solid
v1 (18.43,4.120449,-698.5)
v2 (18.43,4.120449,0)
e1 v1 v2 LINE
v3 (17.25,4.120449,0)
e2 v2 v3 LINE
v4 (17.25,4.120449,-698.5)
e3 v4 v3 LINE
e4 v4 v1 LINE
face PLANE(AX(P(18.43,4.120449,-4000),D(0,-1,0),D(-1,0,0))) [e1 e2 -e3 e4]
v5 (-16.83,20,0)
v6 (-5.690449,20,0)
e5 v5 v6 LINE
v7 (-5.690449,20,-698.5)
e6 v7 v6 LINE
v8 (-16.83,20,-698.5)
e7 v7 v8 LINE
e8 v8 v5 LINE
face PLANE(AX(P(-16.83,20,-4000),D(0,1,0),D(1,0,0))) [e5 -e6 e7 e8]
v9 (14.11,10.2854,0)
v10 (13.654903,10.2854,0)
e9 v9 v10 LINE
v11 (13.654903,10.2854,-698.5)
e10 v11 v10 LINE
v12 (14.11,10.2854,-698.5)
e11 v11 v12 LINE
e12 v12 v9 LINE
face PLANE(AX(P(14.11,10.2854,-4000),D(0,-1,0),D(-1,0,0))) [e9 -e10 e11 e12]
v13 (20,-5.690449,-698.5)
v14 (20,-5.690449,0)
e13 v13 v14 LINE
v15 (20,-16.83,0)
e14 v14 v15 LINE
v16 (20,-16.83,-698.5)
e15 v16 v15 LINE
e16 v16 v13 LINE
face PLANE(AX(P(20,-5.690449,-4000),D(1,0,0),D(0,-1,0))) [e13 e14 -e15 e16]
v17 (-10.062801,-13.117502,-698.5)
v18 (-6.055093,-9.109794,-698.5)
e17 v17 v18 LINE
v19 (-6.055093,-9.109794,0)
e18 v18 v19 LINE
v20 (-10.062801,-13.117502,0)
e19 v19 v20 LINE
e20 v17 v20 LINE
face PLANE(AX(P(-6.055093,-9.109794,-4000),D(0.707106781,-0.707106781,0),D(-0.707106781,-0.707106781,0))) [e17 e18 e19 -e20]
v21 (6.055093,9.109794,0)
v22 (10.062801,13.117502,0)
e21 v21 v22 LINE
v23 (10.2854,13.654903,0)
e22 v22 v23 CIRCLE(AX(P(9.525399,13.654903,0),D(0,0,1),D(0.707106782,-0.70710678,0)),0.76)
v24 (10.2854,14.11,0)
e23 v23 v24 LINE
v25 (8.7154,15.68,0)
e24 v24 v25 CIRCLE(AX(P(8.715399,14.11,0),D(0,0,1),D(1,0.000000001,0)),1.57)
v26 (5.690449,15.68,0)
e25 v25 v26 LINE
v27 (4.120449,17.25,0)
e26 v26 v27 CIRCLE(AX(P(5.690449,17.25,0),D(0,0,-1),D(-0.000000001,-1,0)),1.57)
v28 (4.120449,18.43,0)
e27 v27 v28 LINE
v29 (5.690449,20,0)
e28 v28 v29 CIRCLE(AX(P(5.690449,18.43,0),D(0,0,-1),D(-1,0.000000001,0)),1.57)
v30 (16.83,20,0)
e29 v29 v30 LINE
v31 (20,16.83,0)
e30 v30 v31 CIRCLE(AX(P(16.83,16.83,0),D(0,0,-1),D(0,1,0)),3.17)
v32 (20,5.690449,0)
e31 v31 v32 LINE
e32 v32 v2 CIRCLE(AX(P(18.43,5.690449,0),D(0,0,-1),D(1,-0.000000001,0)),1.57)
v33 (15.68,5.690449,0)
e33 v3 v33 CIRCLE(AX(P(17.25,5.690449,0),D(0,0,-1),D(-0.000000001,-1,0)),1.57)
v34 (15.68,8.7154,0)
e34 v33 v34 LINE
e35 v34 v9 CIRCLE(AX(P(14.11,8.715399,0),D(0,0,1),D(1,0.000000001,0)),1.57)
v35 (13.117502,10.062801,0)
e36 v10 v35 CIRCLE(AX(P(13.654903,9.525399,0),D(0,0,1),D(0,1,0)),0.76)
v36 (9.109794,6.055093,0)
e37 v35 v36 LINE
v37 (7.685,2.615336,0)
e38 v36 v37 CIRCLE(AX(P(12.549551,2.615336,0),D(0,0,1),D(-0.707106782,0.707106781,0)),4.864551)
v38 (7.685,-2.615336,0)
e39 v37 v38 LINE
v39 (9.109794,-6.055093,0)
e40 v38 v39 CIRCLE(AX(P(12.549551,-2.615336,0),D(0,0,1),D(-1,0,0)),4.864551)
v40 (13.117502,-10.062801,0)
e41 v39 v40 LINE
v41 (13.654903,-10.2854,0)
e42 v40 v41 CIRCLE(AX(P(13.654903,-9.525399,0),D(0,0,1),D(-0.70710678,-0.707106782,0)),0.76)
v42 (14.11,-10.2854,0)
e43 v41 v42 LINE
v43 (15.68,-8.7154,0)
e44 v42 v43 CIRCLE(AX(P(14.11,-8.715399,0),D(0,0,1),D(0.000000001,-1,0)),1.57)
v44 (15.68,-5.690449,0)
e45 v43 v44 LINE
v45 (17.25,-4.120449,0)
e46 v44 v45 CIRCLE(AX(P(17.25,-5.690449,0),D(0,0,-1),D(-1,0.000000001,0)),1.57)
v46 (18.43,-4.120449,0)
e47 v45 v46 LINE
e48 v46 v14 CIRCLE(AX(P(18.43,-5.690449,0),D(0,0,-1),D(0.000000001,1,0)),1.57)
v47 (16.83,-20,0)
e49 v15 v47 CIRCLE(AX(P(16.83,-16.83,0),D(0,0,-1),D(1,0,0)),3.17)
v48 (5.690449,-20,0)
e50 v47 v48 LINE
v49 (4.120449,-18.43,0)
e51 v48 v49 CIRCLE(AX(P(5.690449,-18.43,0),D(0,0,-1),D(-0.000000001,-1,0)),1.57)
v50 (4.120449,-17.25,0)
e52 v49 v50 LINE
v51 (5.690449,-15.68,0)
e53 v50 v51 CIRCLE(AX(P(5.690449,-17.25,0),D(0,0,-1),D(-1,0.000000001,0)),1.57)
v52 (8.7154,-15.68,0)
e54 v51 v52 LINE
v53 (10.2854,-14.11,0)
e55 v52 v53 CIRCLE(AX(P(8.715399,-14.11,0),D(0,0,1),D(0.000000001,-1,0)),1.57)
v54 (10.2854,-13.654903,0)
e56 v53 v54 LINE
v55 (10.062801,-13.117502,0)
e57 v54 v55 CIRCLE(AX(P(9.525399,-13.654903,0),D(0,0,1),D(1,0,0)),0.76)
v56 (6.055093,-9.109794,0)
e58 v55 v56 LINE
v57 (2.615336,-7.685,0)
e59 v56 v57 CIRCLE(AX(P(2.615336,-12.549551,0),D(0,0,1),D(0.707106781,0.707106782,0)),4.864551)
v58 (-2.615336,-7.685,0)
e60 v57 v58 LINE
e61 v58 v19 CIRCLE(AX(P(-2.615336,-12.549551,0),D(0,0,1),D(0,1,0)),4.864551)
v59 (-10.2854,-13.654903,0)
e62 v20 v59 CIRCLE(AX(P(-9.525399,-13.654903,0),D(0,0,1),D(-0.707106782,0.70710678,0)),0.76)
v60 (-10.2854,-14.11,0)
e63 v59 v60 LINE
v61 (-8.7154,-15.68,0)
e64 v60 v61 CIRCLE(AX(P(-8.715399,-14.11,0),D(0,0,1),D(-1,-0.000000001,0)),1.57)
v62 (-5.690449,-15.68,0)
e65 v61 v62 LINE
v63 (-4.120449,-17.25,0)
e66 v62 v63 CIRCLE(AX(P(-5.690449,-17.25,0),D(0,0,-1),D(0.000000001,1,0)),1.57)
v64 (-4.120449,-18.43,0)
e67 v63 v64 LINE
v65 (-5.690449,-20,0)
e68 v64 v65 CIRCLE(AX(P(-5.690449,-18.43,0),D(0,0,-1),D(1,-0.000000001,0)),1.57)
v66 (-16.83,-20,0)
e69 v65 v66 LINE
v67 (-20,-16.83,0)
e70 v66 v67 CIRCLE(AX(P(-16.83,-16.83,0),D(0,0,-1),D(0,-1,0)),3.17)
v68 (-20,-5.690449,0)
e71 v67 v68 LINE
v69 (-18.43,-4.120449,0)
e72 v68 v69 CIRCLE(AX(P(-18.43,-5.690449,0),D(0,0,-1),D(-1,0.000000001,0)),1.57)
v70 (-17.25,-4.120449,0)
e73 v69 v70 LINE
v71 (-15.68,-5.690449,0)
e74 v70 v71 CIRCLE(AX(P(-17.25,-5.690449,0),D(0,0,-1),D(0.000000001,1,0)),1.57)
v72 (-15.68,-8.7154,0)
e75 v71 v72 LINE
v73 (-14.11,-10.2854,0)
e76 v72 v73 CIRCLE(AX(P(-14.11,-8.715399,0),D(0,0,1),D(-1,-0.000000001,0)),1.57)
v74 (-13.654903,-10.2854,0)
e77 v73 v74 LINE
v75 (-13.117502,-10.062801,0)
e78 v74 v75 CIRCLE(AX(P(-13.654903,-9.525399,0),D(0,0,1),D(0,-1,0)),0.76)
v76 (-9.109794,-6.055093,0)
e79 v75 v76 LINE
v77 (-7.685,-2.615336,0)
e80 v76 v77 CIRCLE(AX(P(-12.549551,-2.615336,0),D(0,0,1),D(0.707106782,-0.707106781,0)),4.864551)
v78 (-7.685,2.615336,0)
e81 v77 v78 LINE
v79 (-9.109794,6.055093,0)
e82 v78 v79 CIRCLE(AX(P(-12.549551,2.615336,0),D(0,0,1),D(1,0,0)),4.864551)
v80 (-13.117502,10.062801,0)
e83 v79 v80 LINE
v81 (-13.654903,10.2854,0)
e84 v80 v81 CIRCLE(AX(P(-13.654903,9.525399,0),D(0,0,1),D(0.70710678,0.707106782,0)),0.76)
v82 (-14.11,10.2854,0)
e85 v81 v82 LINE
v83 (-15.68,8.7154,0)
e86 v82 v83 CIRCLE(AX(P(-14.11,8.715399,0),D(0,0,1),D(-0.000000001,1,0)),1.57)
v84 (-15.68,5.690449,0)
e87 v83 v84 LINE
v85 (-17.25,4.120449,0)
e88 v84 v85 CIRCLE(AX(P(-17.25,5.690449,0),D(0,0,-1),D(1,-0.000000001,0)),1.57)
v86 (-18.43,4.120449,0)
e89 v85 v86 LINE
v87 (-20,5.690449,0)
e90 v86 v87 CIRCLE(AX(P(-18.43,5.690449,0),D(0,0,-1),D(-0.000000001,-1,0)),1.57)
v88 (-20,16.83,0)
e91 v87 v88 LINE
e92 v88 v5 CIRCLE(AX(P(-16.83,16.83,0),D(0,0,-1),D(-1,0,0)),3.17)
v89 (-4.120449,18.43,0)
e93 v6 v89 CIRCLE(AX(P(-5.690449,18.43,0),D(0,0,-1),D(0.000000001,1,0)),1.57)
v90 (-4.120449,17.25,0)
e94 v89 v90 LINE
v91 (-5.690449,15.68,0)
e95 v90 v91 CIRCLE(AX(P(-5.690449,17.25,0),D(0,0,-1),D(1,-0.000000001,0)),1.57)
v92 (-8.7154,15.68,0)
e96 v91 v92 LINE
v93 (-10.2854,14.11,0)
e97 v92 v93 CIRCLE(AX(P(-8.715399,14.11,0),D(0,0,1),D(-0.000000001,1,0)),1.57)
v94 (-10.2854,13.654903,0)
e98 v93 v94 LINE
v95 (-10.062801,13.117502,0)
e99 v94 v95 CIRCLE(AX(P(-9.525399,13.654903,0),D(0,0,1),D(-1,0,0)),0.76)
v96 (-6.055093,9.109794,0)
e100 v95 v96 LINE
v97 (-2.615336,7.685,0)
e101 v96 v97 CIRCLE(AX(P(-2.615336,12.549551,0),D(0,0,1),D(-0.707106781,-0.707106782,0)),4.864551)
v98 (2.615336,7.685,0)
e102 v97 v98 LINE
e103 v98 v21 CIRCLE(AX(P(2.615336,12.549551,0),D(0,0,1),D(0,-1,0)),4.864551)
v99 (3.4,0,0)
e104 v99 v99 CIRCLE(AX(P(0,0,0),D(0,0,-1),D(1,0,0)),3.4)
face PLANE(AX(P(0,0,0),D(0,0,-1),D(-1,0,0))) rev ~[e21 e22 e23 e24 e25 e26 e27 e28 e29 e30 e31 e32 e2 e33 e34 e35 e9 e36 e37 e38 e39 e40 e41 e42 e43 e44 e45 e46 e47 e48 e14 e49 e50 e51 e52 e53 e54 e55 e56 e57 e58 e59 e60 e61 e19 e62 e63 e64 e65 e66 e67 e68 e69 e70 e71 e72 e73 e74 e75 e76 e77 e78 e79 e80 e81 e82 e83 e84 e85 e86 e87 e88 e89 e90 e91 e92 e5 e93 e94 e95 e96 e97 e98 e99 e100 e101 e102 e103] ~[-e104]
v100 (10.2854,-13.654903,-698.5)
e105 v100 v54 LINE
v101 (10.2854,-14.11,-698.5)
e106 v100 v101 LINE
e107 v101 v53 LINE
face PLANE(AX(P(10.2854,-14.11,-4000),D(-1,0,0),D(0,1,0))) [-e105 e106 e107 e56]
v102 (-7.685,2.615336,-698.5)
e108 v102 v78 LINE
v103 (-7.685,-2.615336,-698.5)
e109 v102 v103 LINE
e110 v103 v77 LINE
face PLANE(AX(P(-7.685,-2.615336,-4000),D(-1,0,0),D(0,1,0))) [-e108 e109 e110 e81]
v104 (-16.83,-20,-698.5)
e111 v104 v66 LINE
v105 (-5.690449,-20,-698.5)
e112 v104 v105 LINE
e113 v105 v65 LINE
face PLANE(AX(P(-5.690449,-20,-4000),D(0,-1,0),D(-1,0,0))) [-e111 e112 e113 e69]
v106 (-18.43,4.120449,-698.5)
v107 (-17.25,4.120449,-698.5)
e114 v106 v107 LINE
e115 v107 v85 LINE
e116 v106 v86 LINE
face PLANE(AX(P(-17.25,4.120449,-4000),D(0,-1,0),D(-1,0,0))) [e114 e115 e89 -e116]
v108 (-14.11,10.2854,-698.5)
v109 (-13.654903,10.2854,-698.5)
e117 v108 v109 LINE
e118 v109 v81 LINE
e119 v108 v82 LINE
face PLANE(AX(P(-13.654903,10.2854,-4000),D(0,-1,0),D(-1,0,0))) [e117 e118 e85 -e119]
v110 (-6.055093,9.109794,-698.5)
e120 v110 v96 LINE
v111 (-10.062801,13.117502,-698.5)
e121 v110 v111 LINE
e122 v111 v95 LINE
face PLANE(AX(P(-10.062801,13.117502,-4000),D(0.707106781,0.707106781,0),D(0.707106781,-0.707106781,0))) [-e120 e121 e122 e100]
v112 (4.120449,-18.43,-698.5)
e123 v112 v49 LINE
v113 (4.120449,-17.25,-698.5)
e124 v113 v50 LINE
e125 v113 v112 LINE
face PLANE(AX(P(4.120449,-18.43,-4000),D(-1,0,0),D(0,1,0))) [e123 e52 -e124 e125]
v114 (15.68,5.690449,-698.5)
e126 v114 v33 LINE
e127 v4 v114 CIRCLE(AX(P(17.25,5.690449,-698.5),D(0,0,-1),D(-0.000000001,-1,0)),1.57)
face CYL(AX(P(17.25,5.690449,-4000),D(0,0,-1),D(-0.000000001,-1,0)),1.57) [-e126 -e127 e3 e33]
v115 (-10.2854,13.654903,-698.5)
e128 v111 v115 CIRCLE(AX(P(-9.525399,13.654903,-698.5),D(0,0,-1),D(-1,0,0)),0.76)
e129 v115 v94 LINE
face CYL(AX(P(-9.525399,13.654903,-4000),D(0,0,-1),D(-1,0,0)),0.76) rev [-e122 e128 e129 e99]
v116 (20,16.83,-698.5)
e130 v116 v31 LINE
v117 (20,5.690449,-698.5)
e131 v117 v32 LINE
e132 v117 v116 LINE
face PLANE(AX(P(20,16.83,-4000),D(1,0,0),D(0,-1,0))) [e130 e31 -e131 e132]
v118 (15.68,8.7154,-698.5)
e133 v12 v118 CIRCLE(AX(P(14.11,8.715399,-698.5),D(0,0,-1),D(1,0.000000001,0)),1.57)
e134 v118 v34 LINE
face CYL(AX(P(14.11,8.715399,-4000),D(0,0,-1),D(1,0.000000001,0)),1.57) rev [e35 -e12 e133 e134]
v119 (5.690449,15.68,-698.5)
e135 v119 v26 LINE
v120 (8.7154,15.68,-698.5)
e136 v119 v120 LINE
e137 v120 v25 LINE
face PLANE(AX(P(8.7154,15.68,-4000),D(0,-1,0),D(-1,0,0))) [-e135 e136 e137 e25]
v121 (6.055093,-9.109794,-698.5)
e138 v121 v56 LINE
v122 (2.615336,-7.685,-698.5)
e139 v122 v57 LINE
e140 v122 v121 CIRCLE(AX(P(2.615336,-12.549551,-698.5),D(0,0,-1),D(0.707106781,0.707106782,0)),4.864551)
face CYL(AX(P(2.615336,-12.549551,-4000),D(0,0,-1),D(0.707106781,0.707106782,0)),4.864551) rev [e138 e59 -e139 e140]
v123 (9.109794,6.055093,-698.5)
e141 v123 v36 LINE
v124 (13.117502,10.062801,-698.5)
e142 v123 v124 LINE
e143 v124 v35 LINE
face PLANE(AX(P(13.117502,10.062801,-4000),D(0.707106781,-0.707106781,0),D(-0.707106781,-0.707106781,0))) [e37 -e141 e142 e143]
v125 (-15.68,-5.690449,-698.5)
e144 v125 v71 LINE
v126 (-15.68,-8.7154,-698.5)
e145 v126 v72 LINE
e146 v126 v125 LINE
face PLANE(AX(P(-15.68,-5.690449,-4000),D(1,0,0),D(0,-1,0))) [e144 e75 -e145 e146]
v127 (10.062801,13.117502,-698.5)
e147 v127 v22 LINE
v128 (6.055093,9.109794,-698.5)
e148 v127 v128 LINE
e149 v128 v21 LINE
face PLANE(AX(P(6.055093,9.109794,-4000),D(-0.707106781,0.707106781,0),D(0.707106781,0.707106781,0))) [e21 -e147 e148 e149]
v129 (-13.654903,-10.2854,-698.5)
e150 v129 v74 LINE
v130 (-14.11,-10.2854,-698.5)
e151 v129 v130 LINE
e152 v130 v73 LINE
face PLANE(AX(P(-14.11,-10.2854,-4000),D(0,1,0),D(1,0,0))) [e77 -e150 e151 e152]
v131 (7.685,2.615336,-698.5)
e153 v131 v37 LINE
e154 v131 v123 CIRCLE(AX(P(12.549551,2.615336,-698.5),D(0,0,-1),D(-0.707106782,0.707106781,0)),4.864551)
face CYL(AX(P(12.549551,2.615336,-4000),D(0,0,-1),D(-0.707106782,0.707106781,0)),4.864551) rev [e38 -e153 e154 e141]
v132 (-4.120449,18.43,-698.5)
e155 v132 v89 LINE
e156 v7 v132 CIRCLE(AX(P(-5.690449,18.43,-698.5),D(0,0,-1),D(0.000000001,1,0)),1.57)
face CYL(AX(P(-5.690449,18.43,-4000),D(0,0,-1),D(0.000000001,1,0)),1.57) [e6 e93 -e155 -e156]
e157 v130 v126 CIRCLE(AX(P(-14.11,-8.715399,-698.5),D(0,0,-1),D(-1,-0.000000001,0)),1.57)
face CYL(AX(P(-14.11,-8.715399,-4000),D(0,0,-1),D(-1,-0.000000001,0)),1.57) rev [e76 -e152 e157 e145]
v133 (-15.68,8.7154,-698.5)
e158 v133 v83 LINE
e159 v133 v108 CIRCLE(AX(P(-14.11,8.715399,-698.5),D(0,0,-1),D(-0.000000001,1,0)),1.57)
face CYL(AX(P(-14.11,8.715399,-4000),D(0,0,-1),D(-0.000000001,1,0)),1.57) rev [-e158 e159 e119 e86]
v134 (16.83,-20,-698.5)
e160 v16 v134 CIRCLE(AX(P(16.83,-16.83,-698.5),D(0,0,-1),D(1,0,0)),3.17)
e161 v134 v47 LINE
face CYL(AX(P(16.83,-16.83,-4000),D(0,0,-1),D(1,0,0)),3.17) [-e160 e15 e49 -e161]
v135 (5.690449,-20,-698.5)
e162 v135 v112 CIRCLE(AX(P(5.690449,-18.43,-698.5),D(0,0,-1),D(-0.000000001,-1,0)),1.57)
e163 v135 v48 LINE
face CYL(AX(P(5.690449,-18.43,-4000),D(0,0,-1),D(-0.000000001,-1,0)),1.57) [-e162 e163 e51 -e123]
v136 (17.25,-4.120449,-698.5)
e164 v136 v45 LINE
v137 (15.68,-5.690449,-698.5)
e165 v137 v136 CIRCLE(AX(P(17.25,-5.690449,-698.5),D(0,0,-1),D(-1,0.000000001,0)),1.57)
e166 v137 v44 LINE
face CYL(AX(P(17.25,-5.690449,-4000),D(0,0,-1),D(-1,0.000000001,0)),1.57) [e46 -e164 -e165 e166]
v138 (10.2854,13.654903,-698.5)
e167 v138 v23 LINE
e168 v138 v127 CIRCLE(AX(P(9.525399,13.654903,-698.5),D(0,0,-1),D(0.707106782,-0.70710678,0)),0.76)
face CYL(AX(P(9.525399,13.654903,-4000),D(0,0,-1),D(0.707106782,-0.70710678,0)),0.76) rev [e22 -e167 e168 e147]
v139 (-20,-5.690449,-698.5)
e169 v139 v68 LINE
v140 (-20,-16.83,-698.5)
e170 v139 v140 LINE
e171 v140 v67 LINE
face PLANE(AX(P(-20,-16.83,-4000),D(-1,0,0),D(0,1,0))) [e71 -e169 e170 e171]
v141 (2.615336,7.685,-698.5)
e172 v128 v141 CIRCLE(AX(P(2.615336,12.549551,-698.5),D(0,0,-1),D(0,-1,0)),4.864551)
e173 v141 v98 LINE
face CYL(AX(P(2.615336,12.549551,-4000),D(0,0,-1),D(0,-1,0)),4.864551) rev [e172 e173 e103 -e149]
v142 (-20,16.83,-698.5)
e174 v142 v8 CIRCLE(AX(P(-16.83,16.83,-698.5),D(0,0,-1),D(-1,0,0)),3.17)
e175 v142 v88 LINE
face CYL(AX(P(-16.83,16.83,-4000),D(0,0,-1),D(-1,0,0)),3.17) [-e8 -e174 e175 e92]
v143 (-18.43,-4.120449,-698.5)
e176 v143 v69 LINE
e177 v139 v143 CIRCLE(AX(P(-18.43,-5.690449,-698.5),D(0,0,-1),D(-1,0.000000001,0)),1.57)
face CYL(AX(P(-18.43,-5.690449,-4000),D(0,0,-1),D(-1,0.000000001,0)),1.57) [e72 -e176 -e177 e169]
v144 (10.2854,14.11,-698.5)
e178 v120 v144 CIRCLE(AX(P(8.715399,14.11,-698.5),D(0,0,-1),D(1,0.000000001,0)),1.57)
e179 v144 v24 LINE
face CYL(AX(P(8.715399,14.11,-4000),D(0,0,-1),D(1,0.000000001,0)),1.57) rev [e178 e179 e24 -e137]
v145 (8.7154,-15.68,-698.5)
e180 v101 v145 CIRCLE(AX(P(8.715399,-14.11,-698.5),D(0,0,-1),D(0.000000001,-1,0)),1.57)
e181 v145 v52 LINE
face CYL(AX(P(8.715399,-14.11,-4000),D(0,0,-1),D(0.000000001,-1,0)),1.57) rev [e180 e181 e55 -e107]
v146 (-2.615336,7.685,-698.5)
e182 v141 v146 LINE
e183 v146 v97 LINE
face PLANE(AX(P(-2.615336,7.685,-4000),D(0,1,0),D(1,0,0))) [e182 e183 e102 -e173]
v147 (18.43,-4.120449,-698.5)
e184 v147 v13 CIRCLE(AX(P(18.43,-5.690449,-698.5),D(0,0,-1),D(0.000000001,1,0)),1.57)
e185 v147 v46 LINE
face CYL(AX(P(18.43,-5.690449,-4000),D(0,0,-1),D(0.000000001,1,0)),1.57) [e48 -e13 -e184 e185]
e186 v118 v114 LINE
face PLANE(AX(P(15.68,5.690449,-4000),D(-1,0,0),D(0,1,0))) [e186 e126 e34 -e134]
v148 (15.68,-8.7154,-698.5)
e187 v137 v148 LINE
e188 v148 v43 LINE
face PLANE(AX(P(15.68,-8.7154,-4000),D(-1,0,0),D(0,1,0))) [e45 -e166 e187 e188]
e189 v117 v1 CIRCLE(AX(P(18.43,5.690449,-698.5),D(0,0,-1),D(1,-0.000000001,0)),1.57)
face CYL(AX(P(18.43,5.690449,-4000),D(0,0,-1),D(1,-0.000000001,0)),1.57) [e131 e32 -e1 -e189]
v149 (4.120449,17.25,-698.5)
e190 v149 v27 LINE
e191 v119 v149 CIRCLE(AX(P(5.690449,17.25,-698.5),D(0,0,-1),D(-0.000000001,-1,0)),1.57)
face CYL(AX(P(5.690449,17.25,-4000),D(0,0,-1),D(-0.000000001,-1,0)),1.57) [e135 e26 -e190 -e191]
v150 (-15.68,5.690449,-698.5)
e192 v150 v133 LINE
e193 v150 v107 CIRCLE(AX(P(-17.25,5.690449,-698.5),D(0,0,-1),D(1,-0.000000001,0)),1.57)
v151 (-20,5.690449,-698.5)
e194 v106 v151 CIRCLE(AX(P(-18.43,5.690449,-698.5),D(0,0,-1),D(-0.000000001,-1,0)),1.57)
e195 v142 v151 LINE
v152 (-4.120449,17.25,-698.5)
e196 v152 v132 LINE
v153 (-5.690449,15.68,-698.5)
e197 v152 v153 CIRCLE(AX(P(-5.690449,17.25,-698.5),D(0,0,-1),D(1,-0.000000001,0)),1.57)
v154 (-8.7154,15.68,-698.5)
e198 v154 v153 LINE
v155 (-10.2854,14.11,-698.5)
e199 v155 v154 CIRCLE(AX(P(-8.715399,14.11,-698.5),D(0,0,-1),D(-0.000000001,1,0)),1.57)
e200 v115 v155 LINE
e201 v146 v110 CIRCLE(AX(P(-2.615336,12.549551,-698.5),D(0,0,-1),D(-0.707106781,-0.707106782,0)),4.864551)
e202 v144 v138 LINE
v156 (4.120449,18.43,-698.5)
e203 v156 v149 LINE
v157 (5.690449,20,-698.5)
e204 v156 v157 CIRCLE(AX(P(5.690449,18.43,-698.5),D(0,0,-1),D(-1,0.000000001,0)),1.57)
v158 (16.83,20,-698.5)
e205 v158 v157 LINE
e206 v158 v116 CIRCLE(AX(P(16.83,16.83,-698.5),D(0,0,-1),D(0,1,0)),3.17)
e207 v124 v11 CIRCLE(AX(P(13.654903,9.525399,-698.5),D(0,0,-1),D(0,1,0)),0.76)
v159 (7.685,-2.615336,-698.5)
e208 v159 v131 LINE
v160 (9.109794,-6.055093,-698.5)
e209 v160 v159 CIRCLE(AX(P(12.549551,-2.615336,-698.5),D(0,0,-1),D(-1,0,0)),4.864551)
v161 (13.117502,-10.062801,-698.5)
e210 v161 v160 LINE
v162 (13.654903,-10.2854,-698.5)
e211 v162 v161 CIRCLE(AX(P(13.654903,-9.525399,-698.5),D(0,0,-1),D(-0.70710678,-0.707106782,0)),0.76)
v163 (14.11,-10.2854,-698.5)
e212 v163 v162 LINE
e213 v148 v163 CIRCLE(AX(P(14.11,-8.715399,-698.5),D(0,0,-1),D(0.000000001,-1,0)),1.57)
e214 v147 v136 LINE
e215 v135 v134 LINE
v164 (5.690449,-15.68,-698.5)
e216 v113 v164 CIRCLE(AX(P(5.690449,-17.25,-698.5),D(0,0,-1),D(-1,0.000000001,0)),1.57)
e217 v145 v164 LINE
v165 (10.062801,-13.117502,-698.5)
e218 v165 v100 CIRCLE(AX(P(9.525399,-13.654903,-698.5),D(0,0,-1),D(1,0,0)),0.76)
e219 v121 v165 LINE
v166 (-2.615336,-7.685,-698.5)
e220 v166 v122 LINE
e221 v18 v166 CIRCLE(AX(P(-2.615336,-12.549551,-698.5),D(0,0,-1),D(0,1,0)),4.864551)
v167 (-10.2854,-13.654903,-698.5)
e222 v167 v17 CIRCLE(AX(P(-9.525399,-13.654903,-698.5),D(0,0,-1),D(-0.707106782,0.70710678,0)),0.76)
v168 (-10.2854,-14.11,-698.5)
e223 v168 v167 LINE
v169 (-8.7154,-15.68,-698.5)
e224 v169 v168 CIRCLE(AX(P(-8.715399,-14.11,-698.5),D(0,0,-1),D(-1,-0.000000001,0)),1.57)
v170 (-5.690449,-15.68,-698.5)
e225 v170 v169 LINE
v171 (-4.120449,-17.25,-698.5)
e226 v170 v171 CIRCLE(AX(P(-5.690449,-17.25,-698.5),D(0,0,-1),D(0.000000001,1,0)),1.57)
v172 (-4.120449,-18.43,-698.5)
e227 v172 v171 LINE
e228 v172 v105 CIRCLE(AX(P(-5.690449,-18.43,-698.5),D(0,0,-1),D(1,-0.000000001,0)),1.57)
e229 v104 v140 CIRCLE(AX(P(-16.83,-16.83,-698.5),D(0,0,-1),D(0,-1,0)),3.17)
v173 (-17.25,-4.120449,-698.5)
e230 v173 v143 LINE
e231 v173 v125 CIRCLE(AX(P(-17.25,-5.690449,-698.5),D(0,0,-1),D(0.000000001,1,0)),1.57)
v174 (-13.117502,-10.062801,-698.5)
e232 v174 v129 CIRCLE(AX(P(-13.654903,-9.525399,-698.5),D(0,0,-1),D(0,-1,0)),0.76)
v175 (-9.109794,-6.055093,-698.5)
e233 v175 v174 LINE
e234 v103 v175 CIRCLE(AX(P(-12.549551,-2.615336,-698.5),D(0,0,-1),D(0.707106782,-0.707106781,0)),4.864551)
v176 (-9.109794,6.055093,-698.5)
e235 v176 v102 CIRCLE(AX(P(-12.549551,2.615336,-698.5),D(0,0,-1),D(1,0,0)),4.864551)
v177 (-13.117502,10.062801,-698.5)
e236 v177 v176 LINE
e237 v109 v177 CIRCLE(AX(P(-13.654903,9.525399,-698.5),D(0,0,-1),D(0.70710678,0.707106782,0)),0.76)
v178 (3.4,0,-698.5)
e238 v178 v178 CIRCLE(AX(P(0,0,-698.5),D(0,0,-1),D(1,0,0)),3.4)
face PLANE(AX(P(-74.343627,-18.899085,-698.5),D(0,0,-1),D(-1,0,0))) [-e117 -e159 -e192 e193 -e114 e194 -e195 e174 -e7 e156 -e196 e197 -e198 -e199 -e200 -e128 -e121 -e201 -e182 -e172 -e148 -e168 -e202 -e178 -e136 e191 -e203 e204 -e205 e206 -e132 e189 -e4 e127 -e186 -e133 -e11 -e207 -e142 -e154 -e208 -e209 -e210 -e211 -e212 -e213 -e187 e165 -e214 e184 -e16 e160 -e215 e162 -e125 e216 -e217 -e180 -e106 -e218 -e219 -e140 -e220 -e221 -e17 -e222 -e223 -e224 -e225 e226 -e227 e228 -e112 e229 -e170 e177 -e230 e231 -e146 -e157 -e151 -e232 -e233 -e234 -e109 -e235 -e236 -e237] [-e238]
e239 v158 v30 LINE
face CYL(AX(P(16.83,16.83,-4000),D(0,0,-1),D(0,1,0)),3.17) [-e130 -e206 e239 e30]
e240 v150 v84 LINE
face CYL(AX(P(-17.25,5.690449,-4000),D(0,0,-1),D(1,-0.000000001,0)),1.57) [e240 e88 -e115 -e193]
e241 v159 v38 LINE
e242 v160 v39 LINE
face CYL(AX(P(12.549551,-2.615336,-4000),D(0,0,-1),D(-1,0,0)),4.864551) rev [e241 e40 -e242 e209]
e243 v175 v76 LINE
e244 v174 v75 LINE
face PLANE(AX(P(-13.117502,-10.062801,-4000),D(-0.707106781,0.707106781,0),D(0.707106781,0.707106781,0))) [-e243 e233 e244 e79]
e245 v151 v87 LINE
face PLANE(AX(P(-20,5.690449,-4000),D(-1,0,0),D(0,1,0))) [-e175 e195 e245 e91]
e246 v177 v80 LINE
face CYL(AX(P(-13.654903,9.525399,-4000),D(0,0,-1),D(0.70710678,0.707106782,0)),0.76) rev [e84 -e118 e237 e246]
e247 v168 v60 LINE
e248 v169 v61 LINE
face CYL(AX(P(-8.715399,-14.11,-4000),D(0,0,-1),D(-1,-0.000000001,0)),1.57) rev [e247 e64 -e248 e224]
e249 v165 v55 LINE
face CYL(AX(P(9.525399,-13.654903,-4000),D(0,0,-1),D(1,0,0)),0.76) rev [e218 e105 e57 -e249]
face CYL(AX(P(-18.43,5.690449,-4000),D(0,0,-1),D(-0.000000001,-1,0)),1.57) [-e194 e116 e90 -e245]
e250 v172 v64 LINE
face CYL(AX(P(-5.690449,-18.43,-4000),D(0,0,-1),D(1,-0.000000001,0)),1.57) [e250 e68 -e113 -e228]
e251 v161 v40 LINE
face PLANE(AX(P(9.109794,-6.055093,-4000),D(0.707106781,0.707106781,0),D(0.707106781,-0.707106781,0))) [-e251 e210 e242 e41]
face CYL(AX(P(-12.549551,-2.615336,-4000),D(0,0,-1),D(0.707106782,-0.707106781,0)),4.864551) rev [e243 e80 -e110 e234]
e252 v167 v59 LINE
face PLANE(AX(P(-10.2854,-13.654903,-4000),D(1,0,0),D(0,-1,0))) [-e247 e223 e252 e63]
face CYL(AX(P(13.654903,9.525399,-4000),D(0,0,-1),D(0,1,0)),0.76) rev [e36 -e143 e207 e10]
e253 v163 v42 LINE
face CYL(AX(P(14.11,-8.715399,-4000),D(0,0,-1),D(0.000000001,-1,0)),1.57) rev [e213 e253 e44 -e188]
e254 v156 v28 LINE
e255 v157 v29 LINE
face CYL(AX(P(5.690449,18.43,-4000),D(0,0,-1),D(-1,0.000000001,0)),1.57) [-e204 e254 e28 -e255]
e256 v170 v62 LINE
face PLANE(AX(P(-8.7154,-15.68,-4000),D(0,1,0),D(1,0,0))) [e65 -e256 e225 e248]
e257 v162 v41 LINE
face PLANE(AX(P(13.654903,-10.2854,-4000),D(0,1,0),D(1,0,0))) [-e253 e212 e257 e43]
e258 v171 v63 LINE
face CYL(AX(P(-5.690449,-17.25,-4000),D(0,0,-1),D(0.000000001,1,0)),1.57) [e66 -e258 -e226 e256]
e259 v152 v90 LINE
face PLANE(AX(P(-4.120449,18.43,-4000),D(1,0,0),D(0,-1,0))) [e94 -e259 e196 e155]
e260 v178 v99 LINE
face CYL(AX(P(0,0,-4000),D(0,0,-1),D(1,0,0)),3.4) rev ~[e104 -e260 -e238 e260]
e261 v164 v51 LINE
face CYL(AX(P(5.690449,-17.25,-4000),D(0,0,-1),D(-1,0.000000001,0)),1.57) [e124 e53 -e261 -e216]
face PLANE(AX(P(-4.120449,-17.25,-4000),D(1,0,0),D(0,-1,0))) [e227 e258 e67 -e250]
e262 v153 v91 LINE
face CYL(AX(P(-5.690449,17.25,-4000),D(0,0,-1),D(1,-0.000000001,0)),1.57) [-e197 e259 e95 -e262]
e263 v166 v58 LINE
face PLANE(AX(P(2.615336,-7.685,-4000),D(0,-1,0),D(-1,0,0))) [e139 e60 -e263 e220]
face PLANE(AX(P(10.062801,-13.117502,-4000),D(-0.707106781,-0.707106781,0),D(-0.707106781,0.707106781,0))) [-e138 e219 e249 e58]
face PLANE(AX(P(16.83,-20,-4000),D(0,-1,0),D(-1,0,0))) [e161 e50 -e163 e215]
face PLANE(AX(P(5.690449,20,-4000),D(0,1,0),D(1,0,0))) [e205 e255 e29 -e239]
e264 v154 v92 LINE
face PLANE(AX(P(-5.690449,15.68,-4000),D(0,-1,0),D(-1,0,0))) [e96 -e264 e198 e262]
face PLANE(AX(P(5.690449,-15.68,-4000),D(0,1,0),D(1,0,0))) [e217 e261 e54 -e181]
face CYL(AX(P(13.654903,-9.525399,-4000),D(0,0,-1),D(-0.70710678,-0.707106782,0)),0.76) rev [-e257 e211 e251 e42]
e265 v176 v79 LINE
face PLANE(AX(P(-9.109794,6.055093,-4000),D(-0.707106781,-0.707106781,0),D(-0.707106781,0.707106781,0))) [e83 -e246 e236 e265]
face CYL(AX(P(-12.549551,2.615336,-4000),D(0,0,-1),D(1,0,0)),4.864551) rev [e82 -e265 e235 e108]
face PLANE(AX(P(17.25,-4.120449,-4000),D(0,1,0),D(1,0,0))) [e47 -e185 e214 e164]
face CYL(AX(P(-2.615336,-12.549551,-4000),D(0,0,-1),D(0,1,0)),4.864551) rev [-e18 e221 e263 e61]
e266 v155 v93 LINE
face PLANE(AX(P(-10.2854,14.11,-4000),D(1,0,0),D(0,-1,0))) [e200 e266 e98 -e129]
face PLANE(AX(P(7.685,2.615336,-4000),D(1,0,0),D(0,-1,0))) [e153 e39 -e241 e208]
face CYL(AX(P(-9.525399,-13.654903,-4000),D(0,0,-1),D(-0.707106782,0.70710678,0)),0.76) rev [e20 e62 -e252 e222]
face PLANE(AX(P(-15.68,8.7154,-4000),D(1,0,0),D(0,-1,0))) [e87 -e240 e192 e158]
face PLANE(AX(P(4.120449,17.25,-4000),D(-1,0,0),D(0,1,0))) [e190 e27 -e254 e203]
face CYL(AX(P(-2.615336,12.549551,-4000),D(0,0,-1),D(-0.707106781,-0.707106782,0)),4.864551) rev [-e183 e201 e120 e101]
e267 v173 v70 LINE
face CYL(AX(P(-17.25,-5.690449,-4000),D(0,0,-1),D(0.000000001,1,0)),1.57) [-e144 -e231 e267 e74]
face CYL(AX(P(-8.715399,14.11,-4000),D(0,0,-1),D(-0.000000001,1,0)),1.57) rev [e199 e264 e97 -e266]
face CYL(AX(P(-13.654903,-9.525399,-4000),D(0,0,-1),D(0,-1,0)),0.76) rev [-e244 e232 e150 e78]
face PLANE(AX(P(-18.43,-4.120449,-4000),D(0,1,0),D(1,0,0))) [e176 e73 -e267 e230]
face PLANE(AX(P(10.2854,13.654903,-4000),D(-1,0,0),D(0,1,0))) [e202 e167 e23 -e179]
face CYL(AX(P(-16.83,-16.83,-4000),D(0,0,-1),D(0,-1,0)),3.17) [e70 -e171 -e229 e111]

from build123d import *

# Parameters (mm, degrees)
SKETCH1_R           = 3.4
BOSS_EXTRUDE1_DEPTH = 4000
SKETCH5_W           = 697.408290135
SKETCH5_H           = 280.560400268
CUT_EXTRUDE4_DEPTH  = 3343.402


with BuildPart() as part:
    # Sketch1 → Boss-Extrude1 (new body)
    with BuildSketch(Plane(origin=(0, 0, -4000), x_dir=(-1, 0, 0), z_dir=(0, 0, -1))):
        with BuildLine():
            Line((16.83, 20), (5.69044933, 20))
            ThreePointArc((5.69044933, 20), (4.580291684, 19.540157646), (4.12044933, 18.43))
            Line((4.12044933, 18.43), (4.12044933, 17.25))
            ThreePointArc((4.12044933, 17.25), (4.580291684, 16.139842354), (5.69044933, 15.68))
            Line((5.69044933, 15.68), (8.7153995, 15.68))
            ThreePointArc((8.7153995, 15.68), (9.825557146, 15.220157646), (10.2853995, 14.11))
            Line((10.2853995, 14.11), (10.2853995, 13.654903102))
            ThreePointArc((10.2853995, 13.654903102), (10.227547945, 13.364063694), (10.062800654, 13.117501948))
            Line((10.062800654, 13.117501948), (6.055092794, 9.109794088))
            ThreePointArc((6.055092794, 9.109794088), (4.47691877, 8.055291919), (2.615335582, 7.685))
            Line((2.615335582, 7.685), (-2.615335582, 7.685))
            ThreePointArc((-2.615335582, 7.685), (-4.47691877, 8.055291919), (-6.055092794, 9.109794088))
            Line((-6.055092794, 9.109794088), (-10.062800654, 13.117501948))
            ThreePointArc((-10.062800654, 13.117501948), (-10.227547945, 13.364063694), (-10.2853995, 13.654903102))
            Line((-10.2853995, 13.654903102), (-10.2853995, 14.11))
            ThreePointArc((-10.2853995, 14.11), (-9.825557146, 15.220157646), (-8.7153995, 15.68))
            Line((-8.7153995, 15.68), (-5.69044933, 15.68))
            ThreePointArc((-5.69044933, 15.68), (-4.580291684, 16.139842354), (-4.12044933, 17.25))
            Line((-4.12044933, 17.25), (-4.12044933, 18.43))
            ThreePointArc((-4.12044933, 18.43), (-4.580291684, 19.540157646), (-5.69044933, 20))
            Line((-5.69044933, 20), (-16.83, 20))
            ThreePointArc((-16.83, 20), (-19.071528496, 19.071528496), (-20, 16.83))
            Line((-20, 16.83), (-20, 5.69044933))
            ThreePointArc((-20, 5.69044933), (-19.540157646, 4.580291684), (-18.43, 4.12044933))
            Line((-18.43, 4.12044933), (-17.25, 4.12044933))
            ThreePointArc((-17.25, 4.12044933), (-16.139842354, 4.580291684), (-15.68, 5.69044933))
            Line((-15.68, 5.69044933), (-15.68, 8.7153995))
            ThreePointArc((-15.68, 8.7153995), (-15.220157646, 9.825557146), (-14.11, 10.2853995))
            Line((-14.11, 10.2853995), (-13.654903102, 10.2853995))
            ThreePointArc((-13.654903102, 10.2853995), (-13.364063694, 10.227547945), (-13.117501948, 10.062800654))
            Line((-13.117501948, 10.062800654), (-9.109794088, 6.055092794))
            ThreePointArc((-9.109794088, 6.055092794), (-8.055291919, 4.47691877), (-7.685, 2.615335582))
            Line((-7.685, 2.615335582), (-7.685, -2.615335582))
            ThreePointArc((-7.685, -2.615335582), (-8.055291919, -4.47691877), (-9.109794088, -6.055092794))
            Line((-9.109794088, -6.055092794), (-13.117501948, -10.062800654))
            ThreePointArc((-13.117501948, -10.062800654), (-13.364063694, -10.227547945), (-13.654903102, -10.2853995))
            Line((-13.654903102, -10.2853995), (-14.11, -10.2853995))
            ThreePointArc((-14.11, -10.2853995), (-15.220157646, -9.825557146), (-15.68, -8.7153995))
            Line((-15.68, -8.7153995), (-15.68, -5.69044933))
            ThreePointArc((-15.68, -5.69044933), (-16.139842354, -4.580291684), (-17.25, -4.12044933))
            Line((-17.25, -4.12044933), (-18.43, -4.12044933))
            ThreePointArc((-18.43, -4.12044933), (-19.540157646, -4.580291684), (-20, -5.69044933))
            Line((-20, -5.69044933), (-20, -16.83))
            ThreePointArc((-20, -16.83), (-19.071528496, -19.071528496), (-16.83, -20))
            Line((-16.83, -20), (-5.69044933, -20))
            ThreePointArc((-5.69044933, -20), (-4.580291684, -19.540157646), (-4.12044933, -18.43))
            Line((-4.12044933, -18.43), (-4.12044933, -17.25))
            ThreePointArc((-4.12044933, -17.25), (-4.580291684, -16.139842354), (-5.69044933, -15.68))
            Line((-5.69044933, -15.68), (-8.7153995, -15.68))
            ThreePointArc((-8.7153995, -15.68), (-9.825557146, -15.220157646), (-10.2853995, -14.11))
            Line((-10.2853995, -14.11), (-10.2853995, -13.654903102))
            ThreePointArc((-10.2853995, -13.654903102), (-10.227547945, -13.364063694), (-10.062800654, -13.117501948))
            Line((-10.062800654, -13.117501948), (-6.055092794, -9.109794088))
            ThreePointArc((-6.055092794, -9.109794088), (-4.47691877, -8.055291919), (-2.615335582, -7.685))
            Line((-2.615335582, -7.685), (2.615335582, -7.685))
            ThreePointArc((2.615335582, -7.685), (4.47691877, -8.055291919), (6.055092794, -9.109794088))
            Line((6.055092794, -9.109794088), (10.062800654, -13.117501948))
            ThreePointArc((10.062800654, -13.117501948), (10.227547945, -13.364063694), (10.2853995, -13.654903102))
            Line((10.2853995, -13.654903102), (10.2853995, -14.11))
            ThreePointArc((10.2853995, -14.11), (9.825557146, -15.220157646), (8.7153995, -15.68))
            Line((8.7153995, -15.68), (5.69044933, -15.68))
            ThreePointArc((5.69044933, -15.68), (4.580291684, -16.139842354), (4.12044933, -17.25))
            Line((4.12044933, -17.25), (4.12044933, -18.43))
            ThreePointArc((4.12044933, -18.43), (4.580291684, -19.540157646), (5.69044933, -20))
            Line((5.69044933, -20), (16.83, -20))
            ThreePointArc((16.83, -20), (19.071528496, -19.071528496), (20, -16.83))
            Line((20, -16.83), (20, -5.69044933))
            ThreePointArc((20, -5.69044933), (19.540157646, -4.580291684), (18.43, -4.12044933))
            Line((18.43, -4.12044933), (17.25, -4.12044933))
            ThreePointArc((17.25, -4.12044933), (16.139842354, -4.580291684), (15.68, -5.69044933))
            Line((15.68, -5.69044933), (15.68, -8.7153995))
            ThreePointArc((15.68, -8.7153995), (15.220157646, -9.825557146), (14.11, -10.2853995))
            Line((14.11, -10.2853995), (13.654903102, -10.2853995))
            ThreePointArc((13.654903102, -10.2853995), (13.364063694, -10.227547945), (13.117501948, -10.062800654))
            Line((13.117501948, -10.062800654), (9.109794088, -6.055092794))
            ThreePointArc((9.109794088, -6.055092794), (8.055291919, -4.47691877), (7.685, -2.615335582))
            Line((7.685, -2.615335582), (7.685, 2.615335582))
            ThreePointArc((7.685, 2.615335582), (8.055291919, 4.47691877), (9.109794088, 6.055092794))
            Line((9.109794088, 6.055092794), (13.117501948, 10.062800654))
            ThreePointArc((13.117501948, 10.062800654), (13.364063694, 10.227547945), (13.654903102, 10.2853995))
            Line((13.654903102, 10.2853995), (14.11, 10.2853995))
            ThreePointArc((14.11, 10.2853995), (15.220157646, 9.825557146), (15.68, 8.7153995))
            Line((15.68, 8.7153995), (15.68, 5.69044933))
            ThreePointArc((15.68, 5.69044933), (16.139842354, 4.580291684), (17.25, 4.12044933))
            Line((17.25, 4.12044933), (18.43, 4.12044933))
            ThreePointArc((18.43, 4.12044933), (19.540157646, 4.580291684), (20, 5.69044933))
            Line((20, 5.69044933), (20, 16.83))
            ThreePointArc((20, 16.83), (19.071528496, 19.071528496), (16.83, 20))
        make_face()
        with Locations(Location((0, 0, 0), (0, 0, 180))):
            Circle(SKETCH1_R, mode=Mode.SUBTRACT)
    extrude(amount=-BOSS_EXTRUDE1_DEPTH)

    # Sketch5 → Cut-Extrude4 (cut)
    with BuildSketch(Plane(origin=(0, 0, -698.5), x_dir=(-1, 0, 0), z_dir=(0, 0, -1))):
        with Locations((74.343626988, -18.89908474)):
            Rectangle(SKETCH5_W, SKETCH5_H)
    extrude(amount=CUT_EXTRUDE4_DEPTH, mode=Mode.SUBTRACT)


solid = part.part
